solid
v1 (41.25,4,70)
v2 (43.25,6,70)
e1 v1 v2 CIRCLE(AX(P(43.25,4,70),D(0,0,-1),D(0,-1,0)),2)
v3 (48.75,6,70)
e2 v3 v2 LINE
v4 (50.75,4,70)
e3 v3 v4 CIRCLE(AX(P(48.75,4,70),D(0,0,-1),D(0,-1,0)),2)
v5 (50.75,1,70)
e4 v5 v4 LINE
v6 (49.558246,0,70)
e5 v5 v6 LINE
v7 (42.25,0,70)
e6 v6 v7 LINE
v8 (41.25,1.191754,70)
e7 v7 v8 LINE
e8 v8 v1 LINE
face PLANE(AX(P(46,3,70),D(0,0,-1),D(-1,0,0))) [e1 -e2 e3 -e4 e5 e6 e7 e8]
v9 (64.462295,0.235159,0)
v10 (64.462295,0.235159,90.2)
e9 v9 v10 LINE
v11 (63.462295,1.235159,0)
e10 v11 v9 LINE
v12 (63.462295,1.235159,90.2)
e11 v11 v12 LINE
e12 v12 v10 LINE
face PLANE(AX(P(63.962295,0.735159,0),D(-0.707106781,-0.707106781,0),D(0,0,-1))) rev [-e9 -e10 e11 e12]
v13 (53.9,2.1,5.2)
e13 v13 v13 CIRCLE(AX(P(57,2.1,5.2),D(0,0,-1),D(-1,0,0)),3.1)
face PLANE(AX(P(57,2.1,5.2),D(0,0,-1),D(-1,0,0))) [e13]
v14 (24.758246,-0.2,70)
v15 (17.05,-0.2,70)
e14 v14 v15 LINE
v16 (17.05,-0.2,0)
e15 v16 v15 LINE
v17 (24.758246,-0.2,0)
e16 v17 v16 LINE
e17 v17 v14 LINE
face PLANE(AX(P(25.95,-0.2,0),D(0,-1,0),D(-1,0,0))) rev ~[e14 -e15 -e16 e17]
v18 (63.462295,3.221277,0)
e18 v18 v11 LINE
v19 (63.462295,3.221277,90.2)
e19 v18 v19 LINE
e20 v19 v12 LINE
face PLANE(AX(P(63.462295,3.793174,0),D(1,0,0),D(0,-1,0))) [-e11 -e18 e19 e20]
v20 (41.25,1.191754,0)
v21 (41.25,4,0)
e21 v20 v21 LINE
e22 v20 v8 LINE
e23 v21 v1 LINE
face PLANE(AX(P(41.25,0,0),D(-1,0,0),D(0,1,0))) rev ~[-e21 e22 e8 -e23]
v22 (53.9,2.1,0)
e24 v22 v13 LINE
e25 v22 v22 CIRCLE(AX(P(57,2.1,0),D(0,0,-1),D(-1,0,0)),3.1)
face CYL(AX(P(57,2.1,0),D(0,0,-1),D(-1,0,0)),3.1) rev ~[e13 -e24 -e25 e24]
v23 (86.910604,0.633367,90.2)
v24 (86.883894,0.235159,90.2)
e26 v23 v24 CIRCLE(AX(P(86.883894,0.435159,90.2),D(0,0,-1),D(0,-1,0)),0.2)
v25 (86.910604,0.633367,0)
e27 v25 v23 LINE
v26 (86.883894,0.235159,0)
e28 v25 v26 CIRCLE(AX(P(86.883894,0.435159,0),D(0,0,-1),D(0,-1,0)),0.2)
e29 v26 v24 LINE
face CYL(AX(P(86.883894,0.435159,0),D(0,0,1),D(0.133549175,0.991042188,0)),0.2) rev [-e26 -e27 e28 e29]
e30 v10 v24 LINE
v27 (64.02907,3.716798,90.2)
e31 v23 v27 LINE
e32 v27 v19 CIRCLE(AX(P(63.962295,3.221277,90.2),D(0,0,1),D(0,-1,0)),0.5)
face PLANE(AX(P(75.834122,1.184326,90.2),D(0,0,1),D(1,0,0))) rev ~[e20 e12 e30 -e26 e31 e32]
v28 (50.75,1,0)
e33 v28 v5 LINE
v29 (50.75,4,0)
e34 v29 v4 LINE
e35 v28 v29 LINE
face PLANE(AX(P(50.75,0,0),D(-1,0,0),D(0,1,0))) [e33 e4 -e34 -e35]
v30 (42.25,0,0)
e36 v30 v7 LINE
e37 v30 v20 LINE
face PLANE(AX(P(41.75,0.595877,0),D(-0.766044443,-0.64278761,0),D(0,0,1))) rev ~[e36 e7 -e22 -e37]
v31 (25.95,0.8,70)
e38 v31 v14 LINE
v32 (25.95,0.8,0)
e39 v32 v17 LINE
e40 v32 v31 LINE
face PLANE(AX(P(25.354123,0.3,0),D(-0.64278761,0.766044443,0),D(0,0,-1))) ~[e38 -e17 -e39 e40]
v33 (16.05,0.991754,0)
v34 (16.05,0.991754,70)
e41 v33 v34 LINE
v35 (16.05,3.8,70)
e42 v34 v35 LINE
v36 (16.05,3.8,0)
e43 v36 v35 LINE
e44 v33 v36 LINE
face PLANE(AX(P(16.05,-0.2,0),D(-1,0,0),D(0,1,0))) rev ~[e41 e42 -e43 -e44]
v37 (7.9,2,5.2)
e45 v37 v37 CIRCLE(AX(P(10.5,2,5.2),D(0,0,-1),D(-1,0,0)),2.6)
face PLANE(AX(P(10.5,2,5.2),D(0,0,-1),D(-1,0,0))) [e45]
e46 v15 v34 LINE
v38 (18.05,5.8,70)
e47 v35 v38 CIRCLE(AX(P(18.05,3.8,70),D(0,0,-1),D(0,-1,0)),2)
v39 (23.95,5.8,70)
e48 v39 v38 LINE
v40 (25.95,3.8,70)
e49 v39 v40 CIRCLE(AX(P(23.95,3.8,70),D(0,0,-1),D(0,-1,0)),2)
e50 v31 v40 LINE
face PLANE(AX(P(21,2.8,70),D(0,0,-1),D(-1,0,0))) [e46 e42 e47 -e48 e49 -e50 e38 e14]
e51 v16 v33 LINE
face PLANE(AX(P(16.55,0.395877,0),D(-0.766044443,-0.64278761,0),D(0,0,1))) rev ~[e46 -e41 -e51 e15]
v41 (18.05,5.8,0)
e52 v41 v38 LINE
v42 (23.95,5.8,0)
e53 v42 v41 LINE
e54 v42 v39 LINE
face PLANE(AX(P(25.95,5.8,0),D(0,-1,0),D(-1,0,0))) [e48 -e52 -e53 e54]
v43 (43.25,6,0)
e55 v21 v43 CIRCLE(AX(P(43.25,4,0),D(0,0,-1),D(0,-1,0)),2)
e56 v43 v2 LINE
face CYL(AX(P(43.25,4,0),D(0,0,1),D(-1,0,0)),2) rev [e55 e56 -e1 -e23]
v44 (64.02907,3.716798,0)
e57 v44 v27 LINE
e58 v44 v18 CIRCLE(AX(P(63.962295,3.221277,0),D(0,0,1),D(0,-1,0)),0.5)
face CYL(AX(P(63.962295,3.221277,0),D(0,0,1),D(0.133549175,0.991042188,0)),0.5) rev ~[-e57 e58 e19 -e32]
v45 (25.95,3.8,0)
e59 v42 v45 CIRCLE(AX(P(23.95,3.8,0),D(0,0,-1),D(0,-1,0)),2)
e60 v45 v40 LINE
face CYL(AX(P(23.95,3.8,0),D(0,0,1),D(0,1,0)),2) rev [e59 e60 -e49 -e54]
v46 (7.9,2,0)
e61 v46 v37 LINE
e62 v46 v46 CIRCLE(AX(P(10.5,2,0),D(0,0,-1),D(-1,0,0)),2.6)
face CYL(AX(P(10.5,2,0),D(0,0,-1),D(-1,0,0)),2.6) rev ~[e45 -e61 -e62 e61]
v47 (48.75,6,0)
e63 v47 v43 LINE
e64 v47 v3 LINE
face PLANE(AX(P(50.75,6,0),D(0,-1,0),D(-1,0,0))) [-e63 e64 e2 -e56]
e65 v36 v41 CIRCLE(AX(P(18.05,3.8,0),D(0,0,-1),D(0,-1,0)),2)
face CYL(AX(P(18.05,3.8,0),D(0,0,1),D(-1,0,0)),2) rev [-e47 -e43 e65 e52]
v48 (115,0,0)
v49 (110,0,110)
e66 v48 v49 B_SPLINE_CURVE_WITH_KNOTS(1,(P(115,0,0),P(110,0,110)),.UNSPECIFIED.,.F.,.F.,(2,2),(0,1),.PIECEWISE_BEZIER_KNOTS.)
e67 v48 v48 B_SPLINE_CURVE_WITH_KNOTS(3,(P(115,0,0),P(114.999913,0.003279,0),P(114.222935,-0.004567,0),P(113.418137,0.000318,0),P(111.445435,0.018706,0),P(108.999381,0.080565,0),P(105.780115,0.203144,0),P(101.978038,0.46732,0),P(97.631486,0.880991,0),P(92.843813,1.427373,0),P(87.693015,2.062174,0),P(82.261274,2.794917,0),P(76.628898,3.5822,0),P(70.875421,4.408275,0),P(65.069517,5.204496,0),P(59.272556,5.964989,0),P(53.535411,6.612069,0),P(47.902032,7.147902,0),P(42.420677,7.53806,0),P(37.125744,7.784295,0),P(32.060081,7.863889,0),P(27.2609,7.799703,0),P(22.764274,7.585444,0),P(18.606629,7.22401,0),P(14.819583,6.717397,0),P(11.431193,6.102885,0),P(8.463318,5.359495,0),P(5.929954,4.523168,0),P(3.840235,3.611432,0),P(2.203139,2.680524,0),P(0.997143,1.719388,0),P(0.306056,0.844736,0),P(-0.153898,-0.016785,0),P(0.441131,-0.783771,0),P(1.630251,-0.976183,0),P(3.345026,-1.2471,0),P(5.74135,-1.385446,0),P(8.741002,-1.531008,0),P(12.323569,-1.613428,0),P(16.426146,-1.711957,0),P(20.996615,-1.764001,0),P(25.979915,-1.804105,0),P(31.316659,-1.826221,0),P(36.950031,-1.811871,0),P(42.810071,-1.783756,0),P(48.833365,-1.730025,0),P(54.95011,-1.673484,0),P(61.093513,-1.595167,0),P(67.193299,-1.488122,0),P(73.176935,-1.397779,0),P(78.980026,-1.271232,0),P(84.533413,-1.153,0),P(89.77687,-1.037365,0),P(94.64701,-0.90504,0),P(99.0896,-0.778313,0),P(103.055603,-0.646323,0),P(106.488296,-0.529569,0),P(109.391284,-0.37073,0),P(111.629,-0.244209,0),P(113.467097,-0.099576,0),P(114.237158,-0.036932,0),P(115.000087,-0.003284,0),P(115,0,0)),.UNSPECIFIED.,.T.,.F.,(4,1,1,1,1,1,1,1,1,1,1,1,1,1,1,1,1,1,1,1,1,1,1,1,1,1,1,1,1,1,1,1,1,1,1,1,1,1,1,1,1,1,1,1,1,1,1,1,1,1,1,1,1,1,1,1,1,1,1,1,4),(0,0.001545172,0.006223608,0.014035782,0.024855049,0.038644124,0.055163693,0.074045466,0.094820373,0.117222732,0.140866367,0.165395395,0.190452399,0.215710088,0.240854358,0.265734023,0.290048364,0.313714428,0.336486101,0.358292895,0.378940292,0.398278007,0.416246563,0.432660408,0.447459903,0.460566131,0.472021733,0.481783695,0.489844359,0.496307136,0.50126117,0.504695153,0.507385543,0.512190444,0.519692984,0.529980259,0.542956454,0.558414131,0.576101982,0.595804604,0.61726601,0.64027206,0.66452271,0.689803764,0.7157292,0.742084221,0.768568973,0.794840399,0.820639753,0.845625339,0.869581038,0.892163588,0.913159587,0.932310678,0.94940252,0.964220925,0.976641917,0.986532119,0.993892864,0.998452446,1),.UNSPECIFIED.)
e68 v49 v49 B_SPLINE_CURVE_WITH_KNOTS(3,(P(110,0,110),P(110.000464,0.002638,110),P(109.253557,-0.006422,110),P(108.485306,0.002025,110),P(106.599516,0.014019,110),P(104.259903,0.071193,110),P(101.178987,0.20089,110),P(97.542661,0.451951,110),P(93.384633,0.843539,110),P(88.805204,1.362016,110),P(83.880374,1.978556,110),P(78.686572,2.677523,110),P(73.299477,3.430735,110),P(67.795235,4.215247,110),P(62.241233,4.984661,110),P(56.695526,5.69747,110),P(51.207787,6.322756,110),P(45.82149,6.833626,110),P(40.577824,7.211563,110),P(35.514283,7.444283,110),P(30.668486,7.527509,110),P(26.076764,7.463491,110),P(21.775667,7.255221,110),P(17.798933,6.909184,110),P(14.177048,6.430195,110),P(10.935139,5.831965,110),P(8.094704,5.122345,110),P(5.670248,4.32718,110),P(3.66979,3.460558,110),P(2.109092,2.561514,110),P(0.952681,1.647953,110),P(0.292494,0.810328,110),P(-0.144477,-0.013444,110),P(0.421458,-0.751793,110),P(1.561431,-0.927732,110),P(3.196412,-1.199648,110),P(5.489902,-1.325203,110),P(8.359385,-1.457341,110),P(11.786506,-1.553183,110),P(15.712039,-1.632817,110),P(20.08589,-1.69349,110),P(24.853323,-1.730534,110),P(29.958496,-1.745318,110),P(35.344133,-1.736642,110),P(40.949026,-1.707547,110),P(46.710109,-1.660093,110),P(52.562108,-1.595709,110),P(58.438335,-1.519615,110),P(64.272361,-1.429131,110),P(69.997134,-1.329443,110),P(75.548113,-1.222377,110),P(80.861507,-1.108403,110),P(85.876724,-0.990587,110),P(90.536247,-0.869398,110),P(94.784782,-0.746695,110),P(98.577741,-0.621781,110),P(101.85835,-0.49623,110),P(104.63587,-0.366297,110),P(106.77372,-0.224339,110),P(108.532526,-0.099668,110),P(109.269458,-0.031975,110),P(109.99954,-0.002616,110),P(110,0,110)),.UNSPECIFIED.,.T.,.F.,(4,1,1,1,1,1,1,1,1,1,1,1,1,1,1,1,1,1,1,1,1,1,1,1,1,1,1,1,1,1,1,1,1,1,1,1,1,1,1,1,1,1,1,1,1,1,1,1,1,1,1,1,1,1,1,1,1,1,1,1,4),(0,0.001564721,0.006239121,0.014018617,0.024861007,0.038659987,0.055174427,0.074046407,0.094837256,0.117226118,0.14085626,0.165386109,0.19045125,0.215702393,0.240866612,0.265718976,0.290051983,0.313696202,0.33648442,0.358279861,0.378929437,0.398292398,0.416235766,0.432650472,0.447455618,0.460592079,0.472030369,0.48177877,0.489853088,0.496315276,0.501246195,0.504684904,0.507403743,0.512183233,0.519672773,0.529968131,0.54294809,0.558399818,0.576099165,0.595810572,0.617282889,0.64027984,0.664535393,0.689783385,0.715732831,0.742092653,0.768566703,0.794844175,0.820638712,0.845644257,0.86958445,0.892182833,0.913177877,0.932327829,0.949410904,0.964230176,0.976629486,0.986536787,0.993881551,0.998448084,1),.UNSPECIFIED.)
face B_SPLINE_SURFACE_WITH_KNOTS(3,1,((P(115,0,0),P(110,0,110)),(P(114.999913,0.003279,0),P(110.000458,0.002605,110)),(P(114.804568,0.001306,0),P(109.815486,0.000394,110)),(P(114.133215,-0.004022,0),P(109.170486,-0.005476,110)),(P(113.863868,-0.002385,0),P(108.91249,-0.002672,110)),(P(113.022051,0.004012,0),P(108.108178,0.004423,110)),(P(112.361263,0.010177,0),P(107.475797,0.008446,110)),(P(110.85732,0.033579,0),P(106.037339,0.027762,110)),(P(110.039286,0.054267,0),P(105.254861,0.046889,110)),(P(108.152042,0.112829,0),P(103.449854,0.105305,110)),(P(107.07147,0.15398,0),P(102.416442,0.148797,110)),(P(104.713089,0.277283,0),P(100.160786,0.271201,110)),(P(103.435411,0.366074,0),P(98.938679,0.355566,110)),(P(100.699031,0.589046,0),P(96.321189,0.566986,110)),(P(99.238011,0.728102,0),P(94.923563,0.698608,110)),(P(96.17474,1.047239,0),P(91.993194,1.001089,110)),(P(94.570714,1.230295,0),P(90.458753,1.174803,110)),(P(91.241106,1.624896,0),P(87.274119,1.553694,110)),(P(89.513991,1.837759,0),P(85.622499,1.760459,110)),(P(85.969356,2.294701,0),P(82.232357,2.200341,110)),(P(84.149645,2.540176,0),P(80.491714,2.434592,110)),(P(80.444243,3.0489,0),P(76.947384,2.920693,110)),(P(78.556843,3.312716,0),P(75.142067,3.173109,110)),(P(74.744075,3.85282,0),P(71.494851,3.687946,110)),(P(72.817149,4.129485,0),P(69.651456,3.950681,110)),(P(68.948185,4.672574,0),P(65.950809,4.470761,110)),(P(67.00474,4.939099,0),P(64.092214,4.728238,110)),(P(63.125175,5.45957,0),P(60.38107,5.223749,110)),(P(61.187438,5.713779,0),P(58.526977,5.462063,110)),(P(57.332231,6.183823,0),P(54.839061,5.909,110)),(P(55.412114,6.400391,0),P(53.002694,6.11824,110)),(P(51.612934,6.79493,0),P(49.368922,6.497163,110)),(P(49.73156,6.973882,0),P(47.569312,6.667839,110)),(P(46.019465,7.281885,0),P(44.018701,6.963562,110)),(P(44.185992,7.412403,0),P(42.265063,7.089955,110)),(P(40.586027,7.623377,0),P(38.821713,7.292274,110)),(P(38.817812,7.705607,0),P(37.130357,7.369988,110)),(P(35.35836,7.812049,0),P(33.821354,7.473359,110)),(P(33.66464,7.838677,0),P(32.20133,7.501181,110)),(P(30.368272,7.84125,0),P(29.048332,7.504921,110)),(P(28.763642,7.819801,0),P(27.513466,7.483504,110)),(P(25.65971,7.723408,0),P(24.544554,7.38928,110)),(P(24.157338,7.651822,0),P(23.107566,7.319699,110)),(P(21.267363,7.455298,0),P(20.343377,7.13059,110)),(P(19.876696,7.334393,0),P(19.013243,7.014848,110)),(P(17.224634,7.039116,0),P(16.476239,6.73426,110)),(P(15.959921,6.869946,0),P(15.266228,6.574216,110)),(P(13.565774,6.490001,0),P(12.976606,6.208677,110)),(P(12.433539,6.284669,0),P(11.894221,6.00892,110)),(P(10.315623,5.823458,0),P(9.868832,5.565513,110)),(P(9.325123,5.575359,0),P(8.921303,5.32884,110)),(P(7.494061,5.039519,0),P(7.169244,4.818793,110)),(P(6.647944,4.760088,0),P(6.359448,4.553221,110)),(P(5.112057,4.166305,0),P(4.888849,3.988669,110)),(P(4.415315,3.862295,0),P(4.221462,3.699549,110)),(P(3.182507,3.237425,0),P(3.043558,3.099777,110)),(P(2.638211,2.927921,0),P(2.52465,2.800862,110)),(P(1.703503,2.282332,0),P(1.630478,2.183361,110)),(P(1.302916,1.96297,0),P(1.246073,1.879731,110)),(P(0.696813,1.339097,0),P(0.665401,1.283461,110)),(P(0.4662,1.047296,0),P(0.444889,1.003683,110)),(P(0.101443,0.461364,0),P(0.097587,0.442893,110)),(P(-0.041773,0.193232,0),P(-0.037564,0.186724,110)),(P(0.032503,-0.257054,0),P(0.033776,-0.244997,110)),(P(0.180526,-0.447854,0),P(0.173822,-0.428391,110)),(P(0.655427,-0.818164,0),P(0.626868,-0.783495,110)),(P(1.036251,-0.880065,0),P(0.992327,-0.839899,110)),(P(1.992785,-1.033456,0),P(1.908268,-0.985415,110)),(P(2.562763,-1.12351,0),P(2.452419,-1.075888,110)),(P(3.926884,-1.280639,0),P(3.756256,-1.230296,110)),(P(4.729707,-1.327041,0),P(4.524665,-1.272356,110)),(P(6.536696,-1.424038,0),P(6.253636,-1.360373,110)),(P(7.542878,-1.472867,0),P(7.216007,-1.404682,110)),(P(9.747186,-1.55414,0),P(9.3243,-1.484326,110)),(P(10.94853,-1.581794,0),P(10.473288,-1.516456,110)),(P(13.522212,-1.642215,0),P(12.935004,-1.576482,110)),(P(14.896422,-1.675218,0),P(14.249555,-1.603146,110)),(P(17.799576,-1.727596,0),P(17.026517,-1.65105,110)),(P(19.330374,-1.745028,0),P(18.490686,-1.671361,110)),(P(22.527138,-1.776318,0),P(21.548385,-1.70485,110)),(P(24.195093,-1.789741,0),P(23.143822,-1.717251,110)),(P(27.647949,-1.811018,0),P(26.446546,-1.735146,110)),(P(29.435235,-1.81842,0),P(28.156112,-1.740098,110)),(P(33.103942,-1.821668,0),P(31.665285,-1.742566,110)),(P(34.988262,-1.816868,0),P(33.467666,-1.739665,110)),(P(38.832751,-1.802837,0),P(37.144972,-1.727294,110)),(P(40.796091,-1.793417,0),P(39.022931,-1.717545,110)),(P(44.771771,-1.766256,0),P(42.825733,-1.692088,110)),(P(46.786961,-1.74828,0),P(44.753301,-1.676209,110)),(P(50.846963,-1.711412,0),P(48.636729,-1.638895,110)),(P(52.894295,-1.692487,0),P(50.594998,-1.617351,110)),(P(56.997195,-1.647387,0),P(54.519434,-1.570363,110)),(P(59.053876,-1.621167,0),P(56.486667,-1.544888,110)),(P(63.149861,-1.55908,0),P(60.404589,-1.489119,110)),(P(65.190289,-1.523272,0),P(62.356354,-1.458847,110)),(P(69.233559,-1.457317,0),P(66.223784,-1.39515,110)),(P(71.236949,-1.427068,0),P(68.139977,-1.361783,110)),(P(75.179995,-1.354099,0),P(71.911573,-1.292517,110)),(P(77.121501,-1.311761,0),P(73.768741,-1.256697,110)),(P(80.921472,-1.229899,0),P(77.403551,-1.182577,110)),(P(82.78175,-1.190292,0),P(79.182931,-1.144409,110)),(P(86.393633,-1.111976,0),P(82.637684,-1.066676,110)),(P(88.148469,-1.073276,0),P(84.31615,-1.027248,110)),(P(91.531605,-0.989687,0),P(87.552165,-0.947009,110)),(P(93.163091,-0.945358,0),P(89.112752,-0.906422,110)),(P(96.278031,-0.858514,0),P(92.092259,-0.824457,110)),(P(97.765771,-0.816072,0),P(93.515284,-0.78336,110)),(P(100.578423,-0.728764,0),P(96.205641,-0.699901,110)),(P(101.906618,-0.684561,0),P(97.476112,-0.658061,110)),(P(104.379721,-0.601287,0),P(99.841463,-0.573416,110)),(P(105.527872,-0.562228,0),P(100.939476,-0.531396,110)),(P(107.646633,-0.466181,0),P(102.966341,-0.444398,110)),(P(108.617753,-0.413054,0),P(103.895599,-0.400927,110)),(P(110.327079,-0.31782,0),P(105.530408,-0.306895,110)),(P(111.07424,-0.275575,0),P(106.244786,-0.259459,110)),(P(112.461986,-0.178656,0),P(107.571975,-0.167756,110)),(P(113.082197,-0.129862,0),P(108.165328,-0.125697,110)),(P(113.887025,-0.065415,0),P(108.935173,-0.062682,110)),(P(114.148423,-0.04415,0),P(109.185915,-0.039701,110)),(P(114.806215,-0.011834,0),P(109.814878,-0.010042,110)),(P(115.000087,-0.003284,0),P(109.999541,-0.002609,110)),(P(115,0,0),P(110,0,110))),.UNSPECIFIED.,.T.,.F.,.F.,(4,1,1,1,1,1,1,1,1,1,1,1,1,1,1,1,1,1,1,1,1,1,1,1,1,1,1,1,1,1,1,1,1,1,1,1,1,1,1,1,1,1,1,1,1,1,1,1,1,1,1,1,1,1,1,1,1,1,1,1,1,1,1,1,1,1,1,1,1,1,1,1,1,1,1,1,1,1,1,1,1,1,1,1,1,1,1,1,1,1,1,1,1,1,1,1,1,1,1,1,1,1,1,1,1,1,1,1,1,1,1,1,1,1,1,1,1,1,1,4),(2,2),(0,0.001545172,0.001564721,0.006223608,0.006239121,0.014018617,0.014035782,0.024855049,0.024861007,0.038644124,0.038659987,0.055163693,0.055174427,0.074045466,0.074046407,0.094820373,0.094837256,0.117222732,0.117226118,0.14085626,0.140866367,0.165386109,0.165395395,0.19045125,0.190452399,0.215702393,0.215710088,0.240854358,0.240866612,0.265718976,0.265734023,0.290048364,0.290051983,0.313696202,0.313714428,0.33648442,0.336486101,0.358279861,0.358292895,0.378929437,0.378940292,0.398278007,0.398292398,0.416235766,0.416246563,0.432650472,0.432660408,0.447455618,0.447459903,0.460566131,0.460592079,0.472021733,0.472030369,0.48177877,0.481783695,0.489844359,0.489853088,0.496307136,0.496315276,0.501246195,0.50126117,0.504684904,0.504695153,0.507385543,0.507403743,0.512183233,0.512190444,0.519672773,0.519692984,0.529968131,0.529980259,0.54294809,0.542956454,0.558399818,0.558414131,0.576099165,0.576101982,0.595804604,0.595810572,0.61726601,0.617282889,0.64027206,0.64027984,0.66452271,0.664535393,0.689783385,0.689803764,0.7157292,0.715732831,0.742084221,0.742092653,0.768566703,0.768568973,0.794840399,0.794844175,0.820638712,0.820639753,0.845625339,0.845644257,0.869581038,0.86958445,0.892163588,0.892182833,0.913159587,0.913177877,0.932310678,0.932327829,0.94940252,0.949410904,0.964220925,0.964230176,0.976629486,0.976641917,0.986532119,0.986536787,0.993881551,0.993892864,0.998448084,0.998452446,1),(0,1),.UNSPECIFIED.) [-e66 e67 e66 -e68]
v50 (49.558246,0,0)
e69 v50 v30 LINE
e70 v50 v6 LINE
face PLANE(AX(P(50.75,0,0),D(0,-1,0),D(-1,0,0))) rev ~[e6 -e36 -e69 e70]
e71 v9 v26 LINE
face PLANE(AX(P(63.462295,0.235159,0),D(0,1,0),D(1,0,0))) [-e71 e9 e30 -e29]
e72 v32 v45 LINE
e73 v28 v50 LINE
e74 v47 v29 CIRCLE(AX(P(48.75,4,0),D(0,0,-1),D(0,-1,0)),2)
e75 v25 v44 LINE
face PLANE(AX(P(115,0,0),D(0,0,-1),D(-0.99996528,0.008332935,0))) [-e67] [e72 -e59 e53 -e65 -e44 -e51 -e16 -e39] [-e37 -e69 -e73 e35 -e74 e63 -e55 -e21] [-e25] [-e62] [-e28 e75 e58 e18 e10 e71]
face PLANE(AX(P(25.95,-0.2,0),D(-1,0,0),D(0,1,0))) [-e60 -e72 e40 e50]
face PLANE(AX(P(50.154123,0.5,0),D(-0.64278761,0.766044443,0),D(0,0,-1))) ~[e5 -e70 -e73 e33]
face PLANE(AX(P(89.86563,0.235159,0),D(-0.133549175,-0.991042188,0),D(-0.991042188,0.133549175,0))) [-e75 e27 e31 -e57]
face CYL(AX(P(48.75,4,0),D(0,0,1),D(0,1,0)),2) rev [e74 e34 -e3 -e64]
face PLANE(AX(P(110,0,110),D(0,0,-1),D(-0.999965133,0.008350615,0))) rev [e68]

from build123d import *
from OCP.BRepFilletAPI import BRepFilletAPI_MakeChamfer

# Parameters (mm, degrees)
SKETCH4_R          = 2.6
SKETCH4_R_2        = 3.1
CUT_EXTRUDE1_DEPTH = 5.2
SKETCH5_W          = 9.9
SKETCH5_H          = 6
SKETCH5_W_2        = 9.5
CUT_EXTRUDE2_DEPTH = 70
FILLET3_R          = 2
CHAMFER1_SIZE      = 1
CHAMFER1_SIZE2     = 1.191753593
CUT_EXTRUDE3_DEPTH = 90.2
FILLET4_R          = 0.2
FILLET5_R          = 0.5
CHAMFER2_SIZE      = 1


with BuildPart() as part:
    # Sketch1 → Loft1 section 0
    with BuildSketch(Plane.XY):
        with BuildLine():
            add(Edge.make_bspline(
                [(115, 0), (114.999913382, 0.00327866), (114.222934603, -0.004567066), (113.418136575, 0.000318408), (111.44543546, 0.018706002), (108.999380922, 0.080565277), (105.780115155, 0.203144323), (101.978037922, 0.467320429), (97.63148646, 0.880990765), (92.843812566, 1.427373326), (87.693014802, 2.062174327), (82.26127365, 2.794917392), (76.628898252, 3.582200475), (70.875421432, 4.408274793), (65.069516957, 5.204495648), (59.272555938, 5.964988559), (53.535411353, 6.612069385), (47.902032041, 7.147901639), (42.420677472, 7.538059951), (37.125743857, 7.784294524), (32.060080889, 7.863888962), (27.260899934, 7.799703202), (22.764274035, 7.585443948), (18.606628598, 7.224009749), (14.819582747, 6.717397261), (11.43119341, 6.102885155), (8.463318021, 5.359495242), (5.929953708, 4.523167874), (3.840235227, 3.611431652), (2.203139301, 2.680524392), (0.997143498, 1.719388226), (0.306055902, 0.84473605), (-0.153897847, -0.016785493), (0.441131195, -0.783771302), (1.630250645, -0.976182526), (3.345026164, -1.247099953), (5.741349663, -1.385446358), (8.741002332, -1.531007587), (12.32356917, -1.613427576), (16.426146399, -1.711956772), (20.996614723, -1.764001286), (25.979915364, -1.804105207), (31.316658928, -1.826220598), (36.950031377, -1.811871436), (42.810070502, -1.783755804), (48.833365319, -1.730024981), (54.950109545, -1.67348399), (61.093513049, -1.595166549), (67.193299365, -1.488121719), (73.176935484, -1.397778739), (78.980025922, -1.271232402), (84.533413271, -1.152999753), (89.776869938, -1.037364871), (94.647010434, -0.905039683), (99.089599698, -0.778312882), (103.055602703, -0.646322839), (106.488295637, -0.529569147), (109.391284428, -0.370730171), (111.629000068, -0.244208643), (113.467096811, -0.099576309), (114.237158295, -0.036931621), (115.000086752, -0.003283716), (115, 0)],
                knots=[0, 0, 0, 0, 0.001545172, 0.006223608, 0.014035782, 0.024855049, 0.038644124, 0.055163693, 0.074045466, 0.094820373, 0.117222732, 0.140866367, 0.165395395, 0.190452399, 0.215710088, 0.240854358, 0.265734023, 0.290048364, 0.313714428, 0.336486101, 0.358292895, 0.378940292, 0.398278007, 0.416246563, 0.432660408, 0.447459903, 0.460566131, 0.472021733, 0.481783695, 0.489844359, 0.496307136, 0.50126117, 0.504695153, 0.507385543, 0.512190444, 0.519692984, 0.529980259, 0.542956454, 0.558414131, 0.576101982, 0.595804604, 0.61726601, 0.64027206, 0.66452271, 0.689803764, 0.7157292, 0.742084221, 0.768568973, 0.794840399, 0.820639753, 0.845625339, 0.869581038, 0.892163588, 0.913159587, 0.932310678, 0.94940252, 0.964220925, 0.976641917, 0.986532119, 0.993892864, 0.998452446, 1, 1, 1, 1], degree=3))
        make_face()
    # Sketch2 → Loft1 section 1
    with BuildSketch(Plane.XY.offset(110)):
        with BuildLine():
            add(Edge.make_bspline(
                [(110, 0), (110.000464145, 0.002638021), (109.253557002, -0.006421882), (108.485306247, 0.00202473), (106.599515685, 0.014018922), (104.259903283, 0.071192731), (101.178986874, 0.200889618), (97.542661477, 0.451950761), (93.384633146, 0.843539364), (88.805204424, 1.362015696), (83.880374164, 1.978555721), (78.68657223, 2.677523385), (73.299477431, 3.430735281), (67.795235431, 4.215247142), (62.241233075, 4.984660857), (56.695525551, 5.697469803), (51.207787306, 6.322755672), (45.821489693, 6.833626486), (40.577824462, 7.211562863), (35.514283248, 7.444282984), (30.668486135, 7.527509184), (26.076763803, 7.463490784), (21.77566696, 7.255221358), (17.798933432, 6.909184212), (14.177047879, 6.430194992), (10.935139134, 5.831964767), (8.094704102, 5.122344568), (5.670248347, 4.327180111), (3.669790047, 3.460558372), (2.10909167, 2.56151381), (0.952680778, 1.647952784), (0.292493833, 0.810328248), (-0.144477468, -0.013443729), (0.421457768, -0.751792674), (1.561430619, -0.927732015), (3.196411713, -1.199647616), (5.489901797, -1.325203312), (8.359384575, -1.457341268), (11.786506209, -1.55318322), (15.712038629, -1.632817261), (20.085890157, -1.693490267), (24.85332264, -1.730533844), (29.958495668, -1.745317698), (35.344133299, -1.736641885), (40.949025669, -1.70754651), (46.710109342, -1.660092686), (52.562107594, -1.595708584), (58.438334584, -1.519615465), (64.272360823, -1.429130605), (69.997133878, -1.329443239), (75.548112692, -1.222377083), (80.861507128, -1.10840335), (85.876724326, -0.990587124), (90.536246874, -0.869398239), (94.784781842, -0.746694986), (98.577741113, -0.621781265), (101.858350076, -0.496229968), (104.635869759, -0.366297292), (106.773720091, -0.224338993), (108.53252638, -0.099668194), (109.269457647, -0.031974616), (109.999539654, -0.002616432), (110, 0)],
                knots=[0, 0, 0, 0, 0.001564721, 0.006239121, 0.014018617, 0.024861007, 0.038659987, 0.055174427, 0.074046407, 0.094837256, 0.117226118, 0.14085626, 0.165386109, 0.19045125, 0.215702393, 0.240866612, 0.265718976, 0.290051983, 0.313696202, 0.33648442, 0.358279861, 0.378929437, 0.398292398, 0.416235766, 0.432650472, 0.447455618, 0.460592079, 0.472030369, 0.48177877, 0.489853088, 0.496315276, 0.501246195, 0.504684904, 0.507403743, 0.512183233, 0.519672773, 0.529968131, 0.54294809, 0.558399818, 0.576099165, 0.595810572, 0.617282889, 0.64027984, 0.664535393, 0.689783385, 0.715732831, 0.742092653, 0.768566703, 0.794844175, 0.820638712, 0.845644257, 0.86958445, 0.892182833, 0.913177877, 0.932327829, 0.949410904, 0.964230176, 0.976629486, 0.986536787, 0.993881551, 0.998448084, 1, 1, 1, 1], degree=3))
        make_face()
    loft()

    # Sketch4 → Cut-Extrude1 (cut)
    with BuildSketch(Plane(origin=(0, 0, 0), x_dir=(-1, 0, 0), z_dir=(0, 0, -1))):
        with Locations((-10.5, 2)):
            Circle(SKETCH4_R)
        with Locations((-57, 2.1)):
            Circle(SKETCH4_R_2)
    extrude(amount=-CUT_EXTRUDE1_DEPTH, mode=Mode.SUBTRACT)

    # Sketch5 → Cut-Extrude2 (cut)
    with BuildSketch(Plane(origin=(0, 0, 0), x_dir=(-1, 0, 0), z_dir=(0, 0, -1))):
        with Locations((-21, 2.8)):
            Rectangle(SKETCH5_W, SKETCH5_H)
        with Locations((-46, 3)):
            Rectangle(SKETCH5_W_2, SKETCH5_H)
    extrude(amount=-CUT_EXTRUDE2_DEPTH, mode=Mode.SUBTRACT)

    # Fillet3
    fillet3_edges = [part.edges().sort_by_distance(p)[0] for p in [
        (16.05, 5.8, 35),
        (25.95, 5.8, 35),
        (41.25, 6, 35),
        (50.75, 6, 35),
    ]]
    fillet(fillet3_edges, radius=FILLET3_R)

    # Chamfer1: one chamfer whose edges measure the first distance from different faces: ONE call of the kernel's chamfer builder (chamfer() names one face for all edges)
    chamfer1_edges_1 = [part.edges().sort_by_distance(p)[0] for p in [
        (16.05, -0.2, 35),
    ]]
    chamfer1_side_1 = [part.faces().sort_by_distance(p)[0] for p in [
        (21, -0.2, 35),
    ]]
    chamfer1_edges_2 = [part.edges().sort_by_distance(p)[0] for p in [
        (25.95, -0.2, 35),
    ]]
    chamfer1_side_2 = [part.faces().sort_by_distance(p)[0] for p in [
        (25.95, 1.8, 35),
    ]]
    chamfer1_edges_3 = [part.edges().sort_by_distance(p)[0] for p in [
        (41.25, 0, 35),
    ]]
    chamfer1_side_3 = [part.faces().sort_by_distance(p)[0] for p in [
        (46, 0, 35),
    ]]
    chamfer1_edges_4 = [part.edges().sort_by_distance(p)[0] for p in [
        (50.75, 0, 35),
    ]]
    chamfer1_side_4 = [part.faces().sort_by_distance(p)[0] for p in [
        (50.75, 2, 35),
    ]]
    chamfer1 = BRepFilletAPI_MakeChamfer(part.part.solid().wrapped)
    for e in chamfer1_edges_1:
        chamfer1.Add(CHAMFER1_SIZE, CHAMFER1_SIZE2, e.wrapped, chamfer1_side_1[0].wrapped)  # the first distance lies on this face
    for e in chamfer1_edges_2:
        chamfer1.Add(CHAMFER1_SIZE, CHAMFER1_SIZE2, e.wrapped, chamfer1_side_2[0].wrapped)  # the first distance lies on this face
    for e in chamfer1_edges_3:
        chamfer1.Add(CHAMFER1_SIZE, CHAMFER1_SIZE2, e.wrapped, chamfer1_side_3[0].wrapped)  # the first distance lies on this face
    for e in chamfer1_edges_4:
        chamfer1.Add(CHAMFER1_SIZE, CHAMFER1_SIZE2, e.wrapped, chamfer1_side_4[0].wrapped)  # the first distance lies on this face
    add(Compound.cast(chamfer1.Shape()), mode=Mode.REPLACE)

    # Sketch6 → Cut-Extrude3 (cut)
    with BuildSketch(Plane(origin=(0, 0, 0), x_dir=(-1, 0, 0), z_dir=(0, 0, -1))):
        Polygon((-63.462295223, 3.793174257), (-63.462295223, 0.235158592), (-89.865630471, 0.235158592), align=None)
    extrude(amount=-CUT_EXTRUDE3_DEPTH, mode=Mode.SUBTRACT)

    # Fillet4
    fillet4_edges = [part.edges().sort_by_distance(p)[0] for p in [
        (89.865630471, 0.235158592, 45.1),
    ]]
    fillet(fillet4_edges, radius=FILLET4_R)

    # Fillet5
    fillet5_edges = [part.edges().sort_by_distance(p)[0] for p in [
        (63.462295223, 3.793174257, 45.1),
    ]]
    fillet(fillet5_edges, radius=FILLET5_R)

    # Chamfer2
    chamfer2_edges = [part.edges().sort_by_distance(p)[0] for p in [
        (63.462295223, 0.235158592, 45.1),
    ]]
    chamfer(chamfer2_edges, length=CHAMFER2_SIZE)


solid = part.part
